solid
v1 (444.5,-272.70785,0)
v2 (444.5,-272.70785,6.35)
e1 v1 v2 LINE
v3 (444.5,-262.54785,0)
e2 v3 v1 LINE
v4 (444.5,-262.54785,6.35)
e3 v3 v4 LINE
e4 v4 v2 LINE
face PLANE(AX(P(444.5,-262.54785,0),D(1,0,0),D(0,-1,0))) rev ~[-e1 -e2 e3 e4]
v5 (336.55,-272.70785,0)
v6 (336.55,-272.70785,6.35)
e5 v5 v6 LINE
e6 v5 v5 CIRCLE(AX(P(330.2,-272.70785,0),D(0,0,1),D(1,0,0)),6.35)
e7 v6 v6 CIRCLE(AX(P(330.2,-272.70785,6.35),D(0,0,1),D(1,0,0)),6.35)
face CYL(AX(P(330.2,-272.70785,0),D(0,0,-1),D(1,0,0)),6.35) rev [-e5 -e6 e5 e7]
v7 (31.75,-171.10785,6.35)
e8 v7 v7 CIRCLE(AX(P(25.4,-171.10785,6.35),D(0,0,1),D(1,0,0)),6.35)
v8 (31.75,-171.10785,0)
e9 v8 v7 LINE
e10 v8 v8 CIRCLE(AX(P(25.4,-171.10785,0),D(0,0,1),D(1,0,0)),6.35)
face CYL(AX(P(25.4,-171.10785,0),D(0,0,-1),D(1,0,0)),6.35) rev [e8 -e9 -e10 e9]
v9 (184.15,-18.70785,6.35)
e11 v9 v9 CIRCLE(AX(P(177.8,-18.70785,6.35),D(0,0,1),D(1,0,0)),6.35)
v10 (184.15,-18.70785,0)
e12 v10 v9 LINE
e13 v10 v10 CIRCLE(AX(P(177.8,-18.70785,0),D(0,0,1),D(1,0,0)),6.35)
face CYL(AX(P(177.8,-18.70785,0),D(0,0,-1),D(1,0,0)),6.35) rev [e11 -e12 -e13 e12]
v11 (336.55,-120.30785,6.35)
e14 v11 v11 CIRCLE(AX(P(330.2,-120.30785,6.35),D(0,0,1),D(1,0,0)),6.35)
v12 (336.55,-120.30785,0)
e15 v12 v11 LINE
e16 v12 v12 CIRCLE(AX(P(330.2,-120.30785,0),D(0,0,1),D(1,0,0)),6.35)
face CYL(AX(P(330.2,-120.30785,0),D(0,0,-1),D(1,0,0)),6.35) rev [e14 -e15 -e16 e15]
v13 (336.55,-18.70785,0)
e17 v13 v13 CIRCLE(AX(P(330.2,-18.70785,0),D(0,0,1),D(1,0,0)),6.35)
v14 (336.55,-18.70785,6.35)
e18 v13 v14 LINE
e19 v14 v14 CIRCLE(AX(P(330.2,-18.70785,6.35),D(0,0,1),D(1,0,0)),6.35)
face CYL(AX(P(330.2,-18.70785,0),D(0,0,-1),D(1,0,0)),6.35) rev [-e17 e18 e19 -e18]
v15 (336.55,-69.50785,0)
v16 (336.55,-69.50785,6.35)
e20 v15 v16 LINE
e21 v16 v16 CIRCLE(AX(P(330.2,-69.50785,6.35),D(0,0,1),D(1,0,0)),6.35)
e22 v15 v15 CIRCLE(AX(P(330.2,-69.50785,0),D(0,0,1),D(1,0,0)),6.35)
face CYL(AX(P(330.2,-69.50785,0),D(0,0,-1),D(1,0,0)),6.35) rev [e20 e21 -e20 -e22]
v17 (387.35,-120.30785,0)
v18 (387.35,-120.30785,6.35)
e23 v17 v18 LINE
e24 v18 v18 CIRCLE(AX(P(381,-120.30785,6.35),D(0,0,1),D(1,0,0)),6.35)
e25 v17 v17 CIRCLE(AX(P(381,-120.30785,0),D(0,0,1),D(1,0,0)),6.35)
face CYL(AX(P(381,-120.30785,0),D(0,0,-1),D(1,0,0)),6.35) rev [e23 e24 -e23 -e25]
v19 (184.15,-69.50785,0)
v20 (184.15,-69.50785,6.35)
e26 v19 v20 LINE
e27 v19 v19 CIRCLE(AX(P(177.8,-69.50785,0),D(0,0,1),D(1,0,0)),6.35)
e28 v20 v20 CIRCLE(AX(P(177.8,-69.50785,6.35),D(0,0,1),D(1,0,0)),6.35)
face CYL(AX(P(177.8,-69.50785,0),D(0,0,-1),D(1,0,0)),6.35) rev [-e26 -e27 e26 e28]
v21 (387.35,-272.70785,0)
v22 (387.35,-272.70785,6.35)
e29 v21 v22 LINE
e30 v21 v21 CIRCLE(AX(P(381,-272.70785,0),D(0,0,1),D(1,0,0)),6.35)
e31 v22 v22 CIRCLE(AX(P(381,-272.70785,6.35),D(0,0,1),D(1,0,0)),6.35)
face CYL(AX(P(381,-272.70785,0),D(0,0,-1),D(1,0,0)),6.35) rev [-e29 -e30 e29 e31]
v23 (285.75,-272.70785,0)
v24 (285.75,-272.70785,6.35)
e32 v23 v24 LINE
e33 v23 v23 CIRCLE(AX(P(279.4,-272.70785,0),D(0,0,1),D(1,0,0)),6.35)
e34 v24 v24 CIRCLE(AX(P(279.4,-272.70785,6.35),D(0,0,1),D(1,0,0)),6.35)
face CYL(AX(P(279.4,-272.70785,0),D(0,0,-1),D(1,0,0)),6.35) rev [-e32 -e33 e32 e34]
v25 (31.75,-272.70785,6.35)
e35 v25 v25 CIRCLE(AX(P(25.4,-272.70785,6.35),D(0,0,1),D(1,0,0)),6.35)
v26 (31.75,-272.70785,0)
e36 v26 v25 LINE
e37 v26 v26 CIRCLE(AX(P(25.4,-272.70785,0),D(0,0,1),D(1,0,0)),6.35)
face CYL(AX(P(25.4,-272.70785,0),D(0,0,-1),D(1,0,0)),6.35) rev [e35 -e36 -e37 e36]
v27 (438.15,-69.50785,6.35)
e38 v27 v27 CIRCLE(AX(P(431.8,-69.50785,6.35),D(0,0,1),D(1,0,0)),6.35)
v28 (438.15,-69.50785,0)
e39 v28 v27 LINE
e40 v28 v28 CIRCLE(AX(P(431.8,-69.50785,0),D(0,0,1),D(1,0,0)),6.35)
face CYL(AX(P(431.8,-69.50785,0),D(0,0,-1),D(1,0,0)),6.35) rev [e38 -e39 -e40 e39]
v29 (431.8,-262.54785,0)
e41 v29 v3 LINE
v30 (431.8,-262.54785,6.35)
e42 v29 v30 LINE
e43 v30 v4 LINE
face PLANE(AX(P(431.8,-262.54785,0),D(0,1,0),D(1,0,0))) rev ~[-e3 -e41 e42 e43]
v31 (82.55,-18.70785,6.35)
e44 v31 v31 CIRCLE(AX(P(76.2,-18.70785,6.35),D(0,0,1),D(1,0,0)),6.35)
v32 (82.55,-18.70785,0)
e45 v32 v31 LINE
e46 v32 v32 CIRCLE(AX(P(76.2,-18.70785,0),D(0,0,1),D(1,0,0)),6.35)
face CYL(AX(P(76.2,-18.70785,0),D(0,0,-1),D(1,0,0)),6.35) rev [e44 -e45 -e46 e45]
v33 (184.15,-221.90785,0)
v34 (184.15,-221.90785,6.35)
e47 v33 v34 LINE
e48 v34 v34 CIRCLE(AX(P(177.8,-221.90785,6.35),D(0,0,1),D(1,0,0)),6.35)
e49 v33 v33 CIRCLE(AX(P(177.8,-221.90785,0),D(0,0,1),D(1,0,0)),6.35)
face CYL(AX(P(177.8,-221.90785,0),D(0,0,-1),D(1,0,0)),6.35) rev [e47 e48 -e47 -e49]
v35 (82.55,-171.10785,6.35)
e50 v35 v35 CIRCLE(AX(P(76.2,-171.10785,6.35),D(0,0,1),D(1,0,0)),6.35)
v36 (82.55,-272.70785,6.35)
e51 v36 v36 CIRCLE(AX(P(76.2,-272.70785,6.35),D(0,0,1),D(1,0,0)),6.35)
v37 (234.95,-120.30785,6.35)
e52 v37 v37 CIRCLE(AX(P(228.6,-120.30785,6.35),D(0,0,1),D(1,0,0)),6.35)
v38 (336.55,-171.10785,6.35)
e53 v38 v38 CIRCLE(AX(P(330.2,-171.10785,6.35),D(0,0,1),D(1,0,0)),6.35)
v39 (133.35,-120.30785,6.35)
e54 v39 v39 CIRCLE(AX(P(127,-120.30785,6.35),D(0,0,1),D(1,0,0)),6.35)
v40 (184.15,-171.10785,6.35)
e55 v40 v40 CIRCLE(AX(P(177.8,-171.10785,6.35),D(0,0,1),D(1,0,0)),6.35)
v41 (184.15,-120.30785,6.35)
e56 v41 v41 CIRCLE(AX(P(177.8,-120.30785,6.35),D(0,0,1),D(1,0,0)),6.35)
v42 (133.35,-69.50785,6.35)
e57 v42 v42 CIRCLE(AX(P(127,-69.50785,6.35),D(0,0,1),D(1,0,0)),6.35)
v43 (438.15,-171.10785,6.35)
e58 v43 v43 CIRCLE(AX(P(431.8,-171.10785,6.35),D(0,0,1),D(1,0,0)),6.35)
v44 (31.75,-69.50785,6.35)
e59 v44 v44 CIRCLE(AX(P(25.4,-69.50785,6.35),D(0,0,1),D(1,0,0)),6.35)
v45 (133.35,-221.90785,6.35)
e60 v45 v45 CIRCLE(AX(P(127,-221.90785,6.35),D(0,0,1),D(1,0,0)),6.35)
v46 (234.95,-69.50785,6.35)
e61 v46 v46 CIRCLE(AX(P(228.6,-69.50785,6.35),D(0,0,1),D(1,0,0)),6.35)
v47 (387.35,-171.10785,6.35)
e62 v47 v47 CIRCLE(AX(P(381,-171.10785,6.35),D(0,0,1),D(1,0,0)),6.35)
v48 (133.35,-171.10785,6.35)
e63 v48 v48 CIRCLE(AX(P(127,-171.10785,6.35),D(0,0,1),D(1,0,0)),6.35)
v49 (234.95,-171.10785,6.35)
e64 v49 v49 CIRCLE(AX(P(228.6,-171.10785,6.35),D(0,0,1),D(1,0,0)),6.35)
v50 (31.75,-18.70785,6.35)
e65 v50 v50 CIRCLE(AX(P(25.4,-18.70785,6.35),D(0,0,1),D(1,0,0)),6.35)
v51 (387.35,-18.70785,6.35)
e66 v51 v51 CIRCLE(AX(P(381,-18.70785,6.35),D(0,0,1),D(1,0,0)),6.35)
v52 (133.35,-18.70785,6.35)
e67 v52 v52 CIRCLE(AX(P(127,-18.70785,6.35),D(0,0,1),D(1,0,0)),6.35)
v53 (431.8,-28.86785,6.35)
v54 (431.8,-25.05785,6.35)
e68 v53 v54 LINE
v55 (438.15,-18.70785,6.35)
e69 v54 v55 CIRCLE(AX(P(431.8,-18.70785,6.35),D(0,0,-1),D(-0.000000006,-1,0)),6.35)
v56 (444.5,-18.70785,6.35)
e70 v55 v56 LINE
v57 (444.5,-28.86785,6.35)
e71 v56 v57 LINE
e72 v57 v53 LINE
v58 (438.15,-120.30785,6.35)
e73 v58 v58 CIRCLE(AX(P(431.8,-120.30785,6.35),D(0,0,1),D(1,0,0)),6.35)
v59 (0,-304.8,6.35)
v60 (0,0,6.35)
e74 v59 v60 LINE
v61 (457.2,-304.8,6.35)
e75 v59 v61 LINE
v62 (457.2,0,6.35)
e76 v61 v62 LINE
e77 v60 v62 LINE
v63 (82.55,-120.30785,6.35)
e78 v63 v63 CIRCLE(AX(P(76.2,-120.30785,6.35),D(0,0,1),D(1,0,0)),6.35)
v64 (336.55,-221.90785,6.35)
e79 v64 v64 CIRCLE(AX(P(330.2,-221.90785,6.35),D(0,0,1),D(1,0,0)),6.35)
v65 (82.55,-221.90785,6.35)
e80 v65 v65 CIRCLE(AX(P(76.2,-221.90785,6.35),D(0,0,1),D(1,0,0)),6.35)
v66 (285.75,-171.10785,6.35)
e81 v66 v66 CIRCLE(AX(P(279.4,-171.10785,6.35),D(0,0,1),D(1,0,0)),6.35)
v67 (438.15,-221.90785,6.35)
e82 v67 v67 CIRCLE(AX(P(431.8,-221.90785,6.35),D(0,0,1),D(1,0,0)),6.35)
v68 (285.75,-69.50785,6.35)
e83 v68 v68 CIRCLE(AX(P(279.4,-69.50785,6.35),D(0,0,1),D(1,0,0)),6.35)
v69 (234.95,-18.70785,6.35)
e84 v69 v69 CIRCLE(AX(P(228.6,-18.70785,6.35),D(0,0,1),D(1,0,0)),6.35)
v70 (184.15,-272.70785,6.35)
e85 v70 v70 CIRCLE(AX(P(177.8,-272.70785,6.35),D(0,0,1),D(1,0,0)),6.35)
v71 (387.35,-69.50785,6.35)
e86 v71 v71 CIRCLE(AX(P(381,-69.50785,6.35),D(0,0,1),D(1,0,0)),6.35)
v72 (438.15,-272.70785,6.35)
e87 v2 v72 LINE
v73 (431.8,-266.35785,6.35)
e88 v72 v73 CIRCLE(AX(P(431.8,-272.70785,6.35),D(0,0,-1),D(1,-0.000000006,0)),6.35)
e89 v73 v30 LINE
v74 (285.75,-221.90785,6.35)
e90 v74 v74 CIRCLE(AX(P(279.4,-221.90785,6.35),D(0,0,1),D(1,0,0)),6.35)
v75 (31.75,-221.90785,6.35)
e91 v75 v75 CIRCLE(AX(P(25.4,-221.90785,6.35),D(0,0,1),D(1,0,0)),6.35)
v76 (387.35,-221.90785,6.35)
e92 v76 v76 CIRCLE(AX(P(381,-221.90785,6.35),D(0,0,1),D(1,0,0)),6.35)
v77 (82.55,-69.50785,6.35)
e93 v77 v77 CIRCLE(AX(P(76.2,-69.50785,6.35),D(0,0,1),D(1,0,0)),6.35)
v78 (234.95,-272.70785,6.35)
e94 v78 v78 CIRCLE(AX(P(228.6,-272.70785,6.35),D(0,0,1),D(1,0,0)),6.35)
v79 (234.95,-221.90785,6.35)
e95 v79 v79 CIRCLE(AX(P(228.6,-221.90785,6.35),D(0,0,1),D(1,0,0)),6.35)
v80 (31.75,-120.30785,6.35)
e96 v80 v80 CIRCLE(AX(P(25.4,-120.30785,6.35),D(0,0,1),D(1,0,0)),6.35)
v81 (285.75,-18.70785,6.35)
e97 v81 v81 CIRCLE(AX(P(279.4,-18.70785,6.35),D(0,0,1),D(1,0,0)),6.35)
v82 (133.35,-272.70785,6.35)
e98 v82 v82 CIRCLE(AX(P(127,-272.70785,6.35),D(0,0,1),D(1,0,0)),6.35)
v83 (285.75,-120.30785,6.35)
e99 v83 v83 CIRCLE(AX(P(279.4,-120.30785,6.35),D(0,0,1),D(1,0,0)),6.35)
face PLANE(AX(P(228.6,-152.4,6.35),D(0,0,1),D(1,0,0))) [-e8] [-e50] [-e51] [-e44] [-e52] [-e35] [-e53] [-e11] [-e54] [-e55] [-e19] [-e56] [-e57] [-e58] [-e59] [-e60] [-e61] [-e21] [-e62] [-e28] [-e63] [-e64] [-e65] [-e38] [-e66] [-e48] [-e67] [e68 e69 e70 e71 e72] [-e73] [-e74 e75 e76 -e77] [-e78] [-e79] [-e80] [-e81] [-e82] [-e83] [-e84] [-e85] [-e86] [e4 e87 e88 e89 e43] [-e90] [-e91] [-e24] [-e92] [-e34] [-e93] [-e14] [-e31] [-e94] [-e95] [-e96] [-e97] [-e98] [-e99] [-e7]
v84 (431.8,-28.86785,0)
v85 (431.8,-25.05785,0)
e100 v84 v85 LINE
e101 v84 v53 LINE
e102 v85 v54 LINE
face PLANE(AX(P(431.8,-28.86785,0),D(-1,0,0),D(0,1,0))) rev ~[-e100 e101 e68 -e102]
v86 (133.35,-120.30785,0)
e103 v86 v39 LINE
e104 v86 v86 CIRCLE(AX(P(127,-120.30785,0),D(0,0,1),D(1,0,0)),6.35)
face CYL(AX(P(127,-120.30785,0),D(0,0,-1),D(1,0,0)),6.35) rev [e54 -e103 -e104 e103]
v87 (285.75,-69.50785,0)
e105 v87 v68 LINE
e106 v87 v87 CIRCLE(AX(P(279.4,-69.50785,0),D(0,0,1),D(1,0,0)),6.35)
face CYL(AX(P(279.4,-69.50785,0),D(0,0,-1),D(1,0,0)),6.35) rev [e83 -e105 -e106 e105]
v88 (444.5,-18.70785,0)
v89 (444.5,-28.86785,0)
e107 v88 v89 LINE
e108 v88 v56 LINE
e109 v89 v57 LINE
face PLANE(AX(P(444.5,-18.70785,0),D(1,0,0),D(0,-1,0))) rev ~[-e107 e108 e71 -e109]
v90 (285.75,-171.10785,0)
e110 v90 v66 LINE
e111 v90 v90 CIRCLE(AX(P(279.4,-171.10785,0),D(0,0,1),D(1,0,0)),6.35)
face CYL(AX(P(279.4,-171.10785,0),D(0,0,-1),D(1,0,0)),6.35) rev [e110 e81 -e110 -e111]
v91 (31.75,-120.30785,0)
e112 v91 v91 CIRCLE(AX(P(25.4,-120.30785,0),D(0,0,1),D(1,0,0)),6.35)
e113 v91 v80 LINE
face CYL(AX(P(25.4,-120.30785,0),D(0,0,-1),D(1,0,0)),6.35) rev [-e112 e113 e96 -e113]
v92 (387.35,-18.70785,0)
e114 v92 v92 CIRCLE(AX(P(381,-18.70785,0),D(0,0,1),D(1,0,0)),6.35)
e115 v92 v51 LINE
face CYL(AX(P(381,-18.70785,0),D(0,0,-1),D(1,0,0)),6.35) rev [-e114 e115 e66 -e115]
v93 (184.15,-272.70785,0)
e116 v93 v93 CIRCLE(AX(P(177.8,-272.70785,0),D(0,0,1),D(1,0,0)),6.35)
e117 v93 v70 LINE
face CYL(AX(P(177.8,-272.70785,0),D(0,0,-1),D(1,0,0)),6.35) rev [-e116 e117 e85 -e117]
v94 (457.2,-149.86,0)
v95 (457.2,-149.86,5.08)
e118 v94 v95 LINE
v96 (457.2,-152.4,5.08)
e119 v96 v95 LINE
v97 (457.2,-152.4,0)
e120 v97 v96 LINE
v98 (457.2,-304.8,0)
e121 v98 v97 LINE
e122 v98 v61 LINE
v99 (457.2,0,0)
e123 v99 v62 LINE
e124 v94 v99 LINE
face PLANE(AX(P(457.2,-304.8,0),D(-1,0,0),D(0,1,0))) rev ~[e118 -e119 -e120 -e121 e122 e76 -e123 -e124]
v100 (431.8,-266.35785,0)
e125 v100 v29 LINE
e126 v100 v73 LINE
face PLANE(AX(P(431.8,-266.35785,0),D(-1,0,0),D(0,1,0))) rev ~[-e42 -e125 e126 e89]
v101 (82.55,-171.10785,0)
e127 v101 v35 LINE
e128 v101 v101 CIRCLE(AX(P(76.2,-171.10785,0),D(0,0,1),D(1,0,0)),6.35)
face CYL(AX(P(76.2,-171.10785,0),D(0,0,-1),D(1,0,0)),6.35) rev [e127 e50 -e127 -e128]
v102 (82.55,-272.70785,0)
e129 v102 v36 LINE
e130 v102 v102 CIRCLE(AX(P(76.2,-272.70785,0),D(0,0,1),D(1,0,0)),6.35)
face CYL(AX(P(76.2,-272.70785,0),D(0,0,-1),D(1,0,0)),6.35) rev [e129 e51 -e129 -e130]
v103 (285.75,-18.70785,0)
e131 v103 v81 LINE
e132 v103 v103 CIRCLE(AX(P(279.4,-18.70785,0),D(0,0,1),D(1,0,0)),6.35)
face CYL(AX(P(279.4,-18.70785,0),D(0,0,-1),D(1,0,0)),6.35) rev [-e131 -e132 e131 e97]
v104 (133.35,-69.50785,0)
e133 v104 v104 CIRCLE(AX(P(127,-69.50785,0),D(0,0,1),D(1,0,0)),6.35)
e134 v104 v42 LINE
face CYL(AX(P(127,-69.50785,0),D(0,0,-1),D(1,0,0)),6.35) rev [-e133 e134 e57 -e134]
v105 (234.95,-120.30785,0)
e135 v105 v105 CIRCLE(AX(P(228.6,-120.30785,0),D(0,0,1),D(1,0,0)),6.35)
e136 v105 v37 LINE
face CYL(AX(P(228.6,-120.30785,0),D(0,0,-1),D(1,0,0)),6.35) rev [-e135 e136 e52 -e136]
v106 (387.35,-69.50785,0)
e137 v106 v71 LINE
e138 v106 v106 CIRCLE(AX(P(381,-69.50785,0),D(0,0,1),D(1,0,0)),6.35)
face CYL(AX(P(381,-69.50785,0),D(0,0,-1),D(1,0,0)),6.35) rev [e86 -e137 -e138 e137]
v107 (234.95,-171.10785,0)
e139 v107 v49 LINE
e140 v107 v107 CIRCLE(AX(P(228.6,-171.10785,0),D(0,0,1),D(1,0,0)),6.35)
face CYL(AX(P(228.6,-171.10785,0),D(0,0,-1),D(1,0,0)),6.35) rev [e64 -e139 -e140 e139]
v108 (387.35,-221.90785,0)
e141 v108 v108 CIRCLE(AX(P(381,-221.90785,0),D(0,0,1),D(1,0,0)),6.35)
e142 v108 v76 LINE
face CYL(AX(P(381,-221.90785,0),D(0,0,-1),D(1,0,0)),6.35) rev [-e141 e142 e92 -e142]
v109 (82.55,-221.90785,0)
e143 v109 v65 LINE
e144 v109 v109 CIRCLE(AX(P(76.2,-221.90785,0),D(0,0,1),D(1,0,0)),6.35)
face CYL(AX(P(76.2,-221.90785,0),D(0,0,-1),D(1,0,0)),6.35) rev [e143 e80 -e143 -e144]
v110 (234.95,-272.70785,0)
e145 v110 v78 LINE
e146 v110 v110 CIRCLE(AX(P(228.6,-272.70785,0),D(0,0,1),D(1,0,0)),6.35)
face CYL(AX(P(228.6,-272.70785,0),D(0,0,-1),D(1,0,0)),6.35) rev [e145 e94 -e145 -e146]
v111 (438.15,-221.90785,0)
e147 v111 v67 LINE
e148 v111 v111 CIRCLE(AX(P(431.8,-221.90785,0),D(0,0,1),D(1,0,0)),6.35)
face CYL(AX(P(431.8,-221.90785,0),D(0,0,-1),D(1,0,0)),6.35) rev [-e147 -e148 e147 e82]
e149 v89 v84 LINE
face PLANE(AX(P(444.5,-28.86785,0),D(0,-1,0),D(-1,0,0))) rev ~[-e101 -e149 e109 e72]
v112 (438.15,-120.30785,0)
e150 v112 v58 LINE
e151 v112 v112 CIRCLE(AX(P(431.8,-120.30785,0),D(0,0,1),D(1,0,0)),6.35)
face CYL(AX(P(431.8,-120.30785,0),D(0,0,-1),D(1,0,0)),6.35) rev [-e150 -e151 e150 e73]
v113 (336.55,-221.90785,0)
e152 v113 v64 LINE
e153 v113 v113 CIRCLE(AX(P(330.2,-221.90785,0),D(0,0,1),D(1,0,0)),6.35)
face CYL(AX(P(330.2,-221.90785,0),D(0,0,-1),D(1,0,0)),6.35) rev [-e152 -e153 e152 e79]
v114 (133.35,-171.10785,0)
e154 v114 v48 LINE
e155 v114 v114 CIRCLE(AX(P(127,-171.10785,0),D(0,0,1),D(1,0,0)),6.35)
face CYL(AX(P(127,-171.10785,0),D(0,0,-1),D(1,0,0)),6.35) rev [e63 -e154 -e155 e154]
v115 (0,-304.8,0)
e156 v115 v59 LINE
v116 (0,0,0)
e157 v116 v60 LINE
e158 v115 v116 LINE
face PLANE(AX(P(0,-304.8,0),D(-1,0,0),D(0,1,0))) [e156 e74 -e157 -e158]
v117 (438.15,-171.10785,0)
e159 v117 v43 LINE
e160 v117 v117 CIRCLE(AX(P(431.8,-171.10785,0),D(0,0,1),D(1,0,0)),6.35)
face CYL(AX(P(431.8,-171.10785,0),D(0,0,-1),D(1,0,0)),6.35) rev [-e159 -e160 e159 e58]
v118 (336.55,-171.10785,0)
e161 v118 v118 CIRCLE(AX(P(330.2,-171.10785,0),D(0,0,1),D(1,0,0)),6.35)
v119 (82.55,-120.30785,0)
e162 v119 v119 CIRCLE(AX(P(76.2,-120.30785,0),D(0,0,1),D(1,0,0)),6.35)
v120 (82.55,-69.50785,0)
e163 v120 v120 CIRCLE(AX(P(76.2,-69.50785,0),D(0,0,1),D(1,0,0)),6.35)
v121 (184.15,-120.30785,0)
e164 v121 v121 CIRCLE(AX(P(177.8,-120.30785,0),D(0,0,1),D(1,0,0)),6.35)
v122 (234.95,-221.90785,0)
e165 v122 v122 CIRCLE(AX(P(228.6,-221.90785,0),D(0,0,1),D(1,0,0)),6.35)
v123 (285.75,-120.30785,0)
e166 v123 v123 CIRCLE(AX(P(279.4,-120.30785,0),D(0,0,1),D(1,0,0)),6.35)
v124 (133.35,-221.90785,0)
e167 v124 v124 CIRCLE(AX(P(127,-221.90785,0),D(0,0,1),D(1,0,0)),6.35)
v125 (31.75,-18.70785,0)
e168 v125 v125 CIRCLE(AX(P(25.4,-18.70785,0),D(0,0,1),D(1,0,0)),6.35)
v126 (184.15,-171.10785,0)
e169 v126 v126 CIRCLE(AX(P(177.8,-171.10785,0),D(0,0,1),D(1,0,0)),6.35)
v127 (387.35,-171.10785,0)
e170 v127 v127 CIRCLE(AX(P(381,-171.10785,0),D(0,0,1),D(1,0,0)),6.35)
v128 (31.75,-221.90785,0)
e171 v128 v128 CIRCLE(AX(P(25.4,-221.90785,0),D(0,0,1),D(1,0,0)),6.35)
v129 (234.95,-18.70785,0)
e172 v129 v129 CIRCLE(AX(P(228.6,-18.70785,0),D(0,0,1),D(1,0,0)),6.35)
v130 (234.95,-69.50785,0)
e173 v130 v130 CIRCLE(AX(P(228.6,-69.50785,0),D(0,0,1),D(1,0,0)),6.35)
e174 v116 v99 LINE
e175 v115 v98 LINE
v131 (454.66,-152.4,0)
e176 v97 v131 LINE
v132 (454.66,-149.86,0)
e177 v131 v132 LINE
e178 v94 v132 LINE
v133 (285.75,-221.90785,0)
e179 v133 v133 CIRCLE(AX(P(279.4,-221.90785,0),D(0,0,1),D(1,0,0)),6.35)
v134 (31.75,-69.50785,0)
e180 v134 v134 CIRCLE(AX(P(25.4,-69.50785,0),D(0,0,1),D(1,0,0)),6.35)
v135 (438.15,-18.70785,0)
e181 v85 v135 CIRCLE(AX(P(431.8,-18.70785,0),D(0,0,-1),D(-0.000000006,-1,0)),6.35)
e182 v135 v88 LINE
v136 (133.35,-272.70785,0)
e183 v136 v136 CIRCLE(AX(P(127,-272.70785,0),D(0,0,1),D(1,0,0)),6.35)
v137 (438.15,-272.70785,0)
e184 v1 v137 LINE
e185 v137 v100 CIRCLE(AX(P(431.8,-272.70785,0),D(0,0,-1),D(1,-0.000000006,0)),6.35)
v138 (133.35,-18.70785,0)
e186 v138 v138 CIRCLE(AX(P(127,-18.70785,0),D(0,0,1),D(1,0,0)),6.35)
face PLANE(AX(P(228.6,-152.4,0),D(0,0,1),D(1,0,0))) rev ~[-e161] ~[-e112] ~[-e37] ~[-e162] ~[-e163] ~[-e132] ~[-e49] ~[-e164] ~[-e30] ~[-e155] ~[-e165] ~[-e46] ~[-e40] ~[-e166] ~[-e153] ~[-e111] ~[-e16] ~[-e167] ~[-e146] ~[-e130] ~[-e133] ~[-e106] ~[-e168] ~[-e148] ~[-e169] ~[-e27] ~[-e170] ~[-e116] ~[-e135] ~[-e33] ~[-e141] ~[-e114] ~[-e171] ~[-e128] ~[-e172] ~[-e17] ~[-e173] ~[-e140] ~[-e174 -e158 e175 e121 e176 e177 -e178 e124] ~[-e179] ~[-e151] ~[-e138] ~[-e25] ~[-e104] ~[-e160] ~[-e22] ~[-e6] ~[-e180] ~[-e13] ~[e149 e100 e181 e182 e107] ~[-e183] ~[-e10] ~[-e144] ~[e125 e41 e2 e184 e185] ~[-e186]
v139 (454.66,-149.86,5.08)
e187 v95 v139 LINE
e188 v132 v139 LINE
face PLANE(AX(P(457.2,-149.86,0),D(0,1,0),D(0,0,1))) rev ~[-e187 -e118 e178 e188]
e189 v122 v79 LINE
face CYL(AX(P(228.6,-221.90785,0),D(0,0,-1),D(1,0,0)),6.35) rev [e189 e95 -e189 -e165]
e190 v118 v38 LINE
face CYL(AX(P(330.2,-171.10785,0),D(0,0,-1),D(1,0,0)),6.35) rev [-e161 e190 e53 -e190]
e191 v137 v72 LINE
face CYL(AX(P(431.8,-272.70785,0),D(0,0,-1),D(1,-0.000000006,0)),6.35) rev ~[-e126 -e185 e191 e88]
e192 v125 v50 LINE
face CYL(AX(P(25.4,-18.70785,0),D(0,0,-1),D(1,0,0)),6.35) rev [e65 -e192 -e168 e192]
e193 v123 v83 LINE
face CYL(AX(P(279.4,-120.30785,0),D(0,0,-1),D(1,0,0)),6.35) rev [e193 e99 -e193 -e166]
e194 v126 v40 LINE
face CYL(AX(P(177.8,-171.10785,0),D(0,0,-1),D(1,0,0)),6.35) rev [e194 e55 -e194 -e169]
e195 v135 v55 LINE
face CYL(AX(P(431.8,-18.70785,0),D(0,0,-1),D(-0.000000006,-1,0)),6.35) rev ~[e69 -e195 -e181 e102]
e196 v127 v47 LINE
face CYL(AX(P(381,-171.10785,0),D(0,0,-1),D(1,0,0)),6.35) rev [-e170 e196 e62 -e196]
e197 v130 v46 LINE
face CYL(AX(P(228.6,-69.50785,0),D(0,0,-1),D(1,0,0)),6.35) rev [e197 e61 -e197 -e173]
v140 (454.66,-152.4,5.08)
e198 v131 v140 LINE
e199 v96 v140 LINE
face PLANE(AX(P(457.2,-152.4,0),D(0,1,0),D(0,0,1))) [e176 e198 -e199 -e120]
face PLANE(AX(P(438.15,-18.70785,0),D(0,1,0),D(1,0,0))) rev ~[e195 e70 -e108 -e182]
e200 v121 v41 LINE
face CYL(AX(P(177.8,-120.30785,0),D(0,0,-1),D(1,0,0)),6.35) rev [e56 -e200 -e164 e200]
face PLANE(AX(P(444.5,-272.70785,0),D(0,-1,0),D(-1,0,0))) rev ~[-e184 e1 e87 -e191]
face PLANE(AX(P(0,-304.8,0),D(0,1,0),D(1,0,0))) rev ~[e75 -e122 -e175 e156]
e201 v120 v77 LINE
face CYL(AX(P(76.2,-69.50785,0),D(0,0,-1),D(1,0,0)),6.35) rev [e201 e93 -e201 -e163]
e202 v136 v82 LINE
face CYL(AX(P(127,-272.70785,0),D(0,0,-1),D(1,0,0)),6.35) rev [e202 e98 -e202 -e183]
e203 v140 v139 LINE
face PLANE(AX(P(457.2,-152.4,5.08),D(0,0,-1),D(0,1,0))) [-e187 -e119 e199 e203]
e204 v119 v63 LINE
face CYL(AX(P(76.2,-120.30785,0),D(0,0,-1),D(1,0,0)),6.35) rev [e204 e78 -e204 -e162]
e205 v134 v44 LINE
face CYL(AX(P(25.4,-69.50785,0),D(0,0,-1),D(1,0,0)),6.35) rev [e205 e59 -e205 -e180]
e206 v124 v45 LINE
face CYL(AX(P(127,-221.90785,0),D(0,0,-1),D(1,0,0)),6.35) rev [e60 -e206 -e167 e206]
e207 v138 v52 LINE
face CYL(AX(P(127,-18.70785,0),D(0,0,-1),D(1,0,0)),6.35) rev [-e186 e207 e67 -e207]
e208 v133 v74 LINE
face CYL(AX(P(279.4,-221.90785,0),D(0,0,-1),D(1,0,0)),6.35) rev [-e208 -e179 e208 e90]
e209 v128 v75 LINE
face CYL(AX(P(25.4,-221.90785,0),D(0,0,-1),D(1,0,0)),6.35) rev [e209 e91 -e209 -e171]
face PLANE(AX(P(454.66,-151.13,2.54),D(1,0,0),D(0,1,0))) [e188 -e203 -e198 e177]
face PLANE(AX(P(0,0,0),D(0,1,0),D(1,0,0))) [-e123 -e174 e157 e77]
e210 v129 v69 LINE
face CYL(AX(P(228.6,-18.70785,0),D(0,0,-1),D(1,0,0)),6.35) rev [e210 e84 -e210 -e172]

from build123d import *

# Parameters (mm, degrees)
F0_W     = 457.2
F0_H     = 304.8
F0_R     = 6.35
F1_DEPTH = 6.35
F2_W     = 2.54
F2_H     = 5.08
F3_DEPTH = 2.54


with BuildPart() as f1:
    # F0 (on Top) → F1 (new body)
    with BuildSketch(Plane.XY):
        with Locations((228.6, -152.4)):
            Rectangle(F0_W, F0_H)
        with Locations((25.4, -272.70785)):
            Circle(F0_R, mode=Mode.SUBTRACT)
        with Locations((76.2, -272.70785)):
            Circle(F0_R, mode=Mode.SUBTRACT)
        with Locations((127, -272.70785)):
            Circle(F0_R, mode=Mode.SUBTRACT)
        with Locations((177.8, -272.70785)):
            Circle(F0_R, mode=Mode.SUBTRACT)
        with Locations((25.4, -221.90785)):
            Circle(F0_R, mode=Mode.SUBTRACT)
        with Locations((76.2, -221.90785)):
            Circle(F0_R, mode=Mode.SUBTRACT)
        with Locations((25.4, -171.10785)):
            Circle(F0_R, mode=Mode.SUBTRACT)
        with Locations((76.2, -171.10785)):
            Circle(F0_R, mode=Mode.SUBTRACT)
        with Locations((127, -221.90785)):
            Circle(F0_R, mode=Mode.SUBTRACT)
        with Locations((177.8, -221.90785)):
            Circle(F0_R, mode=Mode.SUBTRACT)
        with Locations((127, -171.10785)):
            Circle(F0_R, mode=Mode.SUBTRACT)
        with Locations((177.8, -171.10785)):
            Circle(F0_R, mode=Mode.SUBTRACT)
        with Locations((228.6, -272.70785)):
            Circle(F0_R, mode=Mode.SUBTRACT)
        with Locations((279.4, -272.70785)):
            Circle(F0_R, mode=Mode.SUBTRACT)
        with Locations((330.2, -272.70785)):
            Circle(F0_R, mode=Mode.SUBTRACT)
        with Locations((381, -272.70785)):
            Circle(F0_R, mode=Mode.SUBTRACT)
        with BuildLine():
            ThreePointArc((438.15, -272.70785), (427.309872, -277.197978), (431.8, -266.35785))
            Line((431.8, -266.35785), (431.8, -262.54785))
            Line((431.8, -262.54785), (444.5, -262.54785))
            Line((444.5, -262.54785), (444.5, -272.70785))
            Line((444.5, -272.70785), (438.15, -272.70785))
        make_face(mode=Mode.SUBTRACT)
        with Locations((228.6, -221.90785)):
            Circle(F0_R, mode=Mode.SUBTRACT)
        with Locations((279.4, -221.90785)):
            Circle(F0_R, mode=Mode.SUBTRACT)
        with Locations((330.2, -221.90785)):
            Circle(F0_R, mode=Mode.SUBTRACT)
        with Locations((228.6, -171.10785)):
            Circle(F0_R, mode=Mode.SUBTRACT)
        with Locations((279.4, -171.10785)):
            Circle(F0_R, mode=Mode.SUBTRACT)
        with Locations((330.2, -171.10785)):
            Circle(F0_R, mode=Mode.SUBTRACT)
        with Locations((381, -221.90785)):
            Circle(F0_R, mode=Mode.SUBTRACT)
        with Locations((431.8, -221.90785)):
            Circle(F0_R, mode=Mode.SUBTRACT)
        with Locations((381, -171.10785)):
            Circle(F0_R, mode=Mode.SUBTRACT)
        with Locations((431.8, -171.10785)):
            Circle(F0_R, mode=Mode.SUBTRACT)
        with Locations((25.4, -120.30785)):
            Circle(F0_R, mode=Mode.SUBTRACT)
        with Locations((76.2, -120.30785)):
            Circle(F0_R, mode=Mode.SUBTRACT)
        with Locations((127, -120.30785)):
            Circle(F0_R, mode=Mode.SUBTRACT)
        with Locations((177.8, -120.30785)):
            Circle(F0_R, mode=Mode.SUBTRACT)
        with Locations((25.4, -69.50785)):
            Circle(F0_R, mode=Mode.SUBTRACT)
        with Locations((76.2, -69.50785)):
            Circle(F0_R, mode=Mode.SUBTRACT)
        with Locations((25.4, -18.70785)):
            Circle(F0_R, mode=Mode.SUBTRACT)
        with Locations((76.2, -18.70785)):
            Circle(F0_R, mode=Mode.SUBTRACT)
        with Locations((127, -69.50785)):
            Circle(F0_R, mode=Mode.SUBTRACT)
        with Locations((177.8, -69.50785)):
            Circle(F0_R, mode=Mode.SUBTRACT)
        with Locations((127, -18.70785)):
            Circle(F0_R, mode=Mode.SUBTRACT)
        with Locations((177.8, -18.70785)):
            Circle(F0_R, mode=Mode.SUBTRACT)
        with Locations((228.6, -120.30785)):
            Circle(F0_R, mode=Mode.SUBTRACT)
        with Locations((279.4, -120.30785)):
            Circle(F0_R, mode=Mode.SUBTRACT)
        with Locations((330.2, -120.30785)):
            Circle(F0_R, mode=Mode.SUBTRACT)
        with Locations((381, -120.30785)):
            Circle(F0_R, mode=Mode.SUBTRACT)
        with Locations((431.8, -120.30785)):
            Circle(F0_R, mode=Mode.SUBTRACT)
        with Locations((228.6, -69.50785)):
            Circle(F0_R, mode=Mode.SUBTRACT)
        with Locations((279.4, -69.50785)):
            Circle(F0_R, mode=Mode.SUBTRACT)
        with Locations((330.2, -69.50785)):
            Circle(F0_R, mode=Mode.SUBTRACT)
        with Locations((228.6, -18.70785)):
            Circle(F0_R, mode=Mode.SUBTRACT)
        with Locations((279.4, -18.70785)):
            Circle(F0_R, mode=Mode.SUBTRACT)
        with Locations((330.2, -18.70785)):
            Circle(F0_R, mode=Mode.SUBTRACT)
        with Locations((381, -69.50785)):
            Circle(F0_R, mode=Mode.SUBTRACT)
        with Locations((431.8, -69.50785)):
            Circle(F0_R, mode=Mode.SUBTRACT)
        with Locations((381, -18.70785)):
            Circle(F0_R, mode=Mode.SUBTRACT)
        with BuildLine():
            ThreePointArc((431.8, -25.05785), (427.309872, -14.217722), (438.15, -18.70785))
            Line((438.15, -18.70785), (444.5, -18.70785))
            Line((444.5, -18.70785), (444.5, -28.86785))
            Line((444.5, -28.86785), (431.8, -28.86785))
            Line((431.8, -28.86785), (431.8, -25.05785))
        make_face(mode=Mode.SUBTRACT)
    extrude(amount=F1_DEPTH)

    # F2 (on face) → F3 (cut)
    with BuildSketch(Plane.YZ.offset(457.2)):
        with Locations((-151.13, 2.54)):
            Rectangle(F2_W, F2_H)
    extrude(amount=-F3_DEPTH, mode=Mode.SUBTRACT)


solid = f1.part
